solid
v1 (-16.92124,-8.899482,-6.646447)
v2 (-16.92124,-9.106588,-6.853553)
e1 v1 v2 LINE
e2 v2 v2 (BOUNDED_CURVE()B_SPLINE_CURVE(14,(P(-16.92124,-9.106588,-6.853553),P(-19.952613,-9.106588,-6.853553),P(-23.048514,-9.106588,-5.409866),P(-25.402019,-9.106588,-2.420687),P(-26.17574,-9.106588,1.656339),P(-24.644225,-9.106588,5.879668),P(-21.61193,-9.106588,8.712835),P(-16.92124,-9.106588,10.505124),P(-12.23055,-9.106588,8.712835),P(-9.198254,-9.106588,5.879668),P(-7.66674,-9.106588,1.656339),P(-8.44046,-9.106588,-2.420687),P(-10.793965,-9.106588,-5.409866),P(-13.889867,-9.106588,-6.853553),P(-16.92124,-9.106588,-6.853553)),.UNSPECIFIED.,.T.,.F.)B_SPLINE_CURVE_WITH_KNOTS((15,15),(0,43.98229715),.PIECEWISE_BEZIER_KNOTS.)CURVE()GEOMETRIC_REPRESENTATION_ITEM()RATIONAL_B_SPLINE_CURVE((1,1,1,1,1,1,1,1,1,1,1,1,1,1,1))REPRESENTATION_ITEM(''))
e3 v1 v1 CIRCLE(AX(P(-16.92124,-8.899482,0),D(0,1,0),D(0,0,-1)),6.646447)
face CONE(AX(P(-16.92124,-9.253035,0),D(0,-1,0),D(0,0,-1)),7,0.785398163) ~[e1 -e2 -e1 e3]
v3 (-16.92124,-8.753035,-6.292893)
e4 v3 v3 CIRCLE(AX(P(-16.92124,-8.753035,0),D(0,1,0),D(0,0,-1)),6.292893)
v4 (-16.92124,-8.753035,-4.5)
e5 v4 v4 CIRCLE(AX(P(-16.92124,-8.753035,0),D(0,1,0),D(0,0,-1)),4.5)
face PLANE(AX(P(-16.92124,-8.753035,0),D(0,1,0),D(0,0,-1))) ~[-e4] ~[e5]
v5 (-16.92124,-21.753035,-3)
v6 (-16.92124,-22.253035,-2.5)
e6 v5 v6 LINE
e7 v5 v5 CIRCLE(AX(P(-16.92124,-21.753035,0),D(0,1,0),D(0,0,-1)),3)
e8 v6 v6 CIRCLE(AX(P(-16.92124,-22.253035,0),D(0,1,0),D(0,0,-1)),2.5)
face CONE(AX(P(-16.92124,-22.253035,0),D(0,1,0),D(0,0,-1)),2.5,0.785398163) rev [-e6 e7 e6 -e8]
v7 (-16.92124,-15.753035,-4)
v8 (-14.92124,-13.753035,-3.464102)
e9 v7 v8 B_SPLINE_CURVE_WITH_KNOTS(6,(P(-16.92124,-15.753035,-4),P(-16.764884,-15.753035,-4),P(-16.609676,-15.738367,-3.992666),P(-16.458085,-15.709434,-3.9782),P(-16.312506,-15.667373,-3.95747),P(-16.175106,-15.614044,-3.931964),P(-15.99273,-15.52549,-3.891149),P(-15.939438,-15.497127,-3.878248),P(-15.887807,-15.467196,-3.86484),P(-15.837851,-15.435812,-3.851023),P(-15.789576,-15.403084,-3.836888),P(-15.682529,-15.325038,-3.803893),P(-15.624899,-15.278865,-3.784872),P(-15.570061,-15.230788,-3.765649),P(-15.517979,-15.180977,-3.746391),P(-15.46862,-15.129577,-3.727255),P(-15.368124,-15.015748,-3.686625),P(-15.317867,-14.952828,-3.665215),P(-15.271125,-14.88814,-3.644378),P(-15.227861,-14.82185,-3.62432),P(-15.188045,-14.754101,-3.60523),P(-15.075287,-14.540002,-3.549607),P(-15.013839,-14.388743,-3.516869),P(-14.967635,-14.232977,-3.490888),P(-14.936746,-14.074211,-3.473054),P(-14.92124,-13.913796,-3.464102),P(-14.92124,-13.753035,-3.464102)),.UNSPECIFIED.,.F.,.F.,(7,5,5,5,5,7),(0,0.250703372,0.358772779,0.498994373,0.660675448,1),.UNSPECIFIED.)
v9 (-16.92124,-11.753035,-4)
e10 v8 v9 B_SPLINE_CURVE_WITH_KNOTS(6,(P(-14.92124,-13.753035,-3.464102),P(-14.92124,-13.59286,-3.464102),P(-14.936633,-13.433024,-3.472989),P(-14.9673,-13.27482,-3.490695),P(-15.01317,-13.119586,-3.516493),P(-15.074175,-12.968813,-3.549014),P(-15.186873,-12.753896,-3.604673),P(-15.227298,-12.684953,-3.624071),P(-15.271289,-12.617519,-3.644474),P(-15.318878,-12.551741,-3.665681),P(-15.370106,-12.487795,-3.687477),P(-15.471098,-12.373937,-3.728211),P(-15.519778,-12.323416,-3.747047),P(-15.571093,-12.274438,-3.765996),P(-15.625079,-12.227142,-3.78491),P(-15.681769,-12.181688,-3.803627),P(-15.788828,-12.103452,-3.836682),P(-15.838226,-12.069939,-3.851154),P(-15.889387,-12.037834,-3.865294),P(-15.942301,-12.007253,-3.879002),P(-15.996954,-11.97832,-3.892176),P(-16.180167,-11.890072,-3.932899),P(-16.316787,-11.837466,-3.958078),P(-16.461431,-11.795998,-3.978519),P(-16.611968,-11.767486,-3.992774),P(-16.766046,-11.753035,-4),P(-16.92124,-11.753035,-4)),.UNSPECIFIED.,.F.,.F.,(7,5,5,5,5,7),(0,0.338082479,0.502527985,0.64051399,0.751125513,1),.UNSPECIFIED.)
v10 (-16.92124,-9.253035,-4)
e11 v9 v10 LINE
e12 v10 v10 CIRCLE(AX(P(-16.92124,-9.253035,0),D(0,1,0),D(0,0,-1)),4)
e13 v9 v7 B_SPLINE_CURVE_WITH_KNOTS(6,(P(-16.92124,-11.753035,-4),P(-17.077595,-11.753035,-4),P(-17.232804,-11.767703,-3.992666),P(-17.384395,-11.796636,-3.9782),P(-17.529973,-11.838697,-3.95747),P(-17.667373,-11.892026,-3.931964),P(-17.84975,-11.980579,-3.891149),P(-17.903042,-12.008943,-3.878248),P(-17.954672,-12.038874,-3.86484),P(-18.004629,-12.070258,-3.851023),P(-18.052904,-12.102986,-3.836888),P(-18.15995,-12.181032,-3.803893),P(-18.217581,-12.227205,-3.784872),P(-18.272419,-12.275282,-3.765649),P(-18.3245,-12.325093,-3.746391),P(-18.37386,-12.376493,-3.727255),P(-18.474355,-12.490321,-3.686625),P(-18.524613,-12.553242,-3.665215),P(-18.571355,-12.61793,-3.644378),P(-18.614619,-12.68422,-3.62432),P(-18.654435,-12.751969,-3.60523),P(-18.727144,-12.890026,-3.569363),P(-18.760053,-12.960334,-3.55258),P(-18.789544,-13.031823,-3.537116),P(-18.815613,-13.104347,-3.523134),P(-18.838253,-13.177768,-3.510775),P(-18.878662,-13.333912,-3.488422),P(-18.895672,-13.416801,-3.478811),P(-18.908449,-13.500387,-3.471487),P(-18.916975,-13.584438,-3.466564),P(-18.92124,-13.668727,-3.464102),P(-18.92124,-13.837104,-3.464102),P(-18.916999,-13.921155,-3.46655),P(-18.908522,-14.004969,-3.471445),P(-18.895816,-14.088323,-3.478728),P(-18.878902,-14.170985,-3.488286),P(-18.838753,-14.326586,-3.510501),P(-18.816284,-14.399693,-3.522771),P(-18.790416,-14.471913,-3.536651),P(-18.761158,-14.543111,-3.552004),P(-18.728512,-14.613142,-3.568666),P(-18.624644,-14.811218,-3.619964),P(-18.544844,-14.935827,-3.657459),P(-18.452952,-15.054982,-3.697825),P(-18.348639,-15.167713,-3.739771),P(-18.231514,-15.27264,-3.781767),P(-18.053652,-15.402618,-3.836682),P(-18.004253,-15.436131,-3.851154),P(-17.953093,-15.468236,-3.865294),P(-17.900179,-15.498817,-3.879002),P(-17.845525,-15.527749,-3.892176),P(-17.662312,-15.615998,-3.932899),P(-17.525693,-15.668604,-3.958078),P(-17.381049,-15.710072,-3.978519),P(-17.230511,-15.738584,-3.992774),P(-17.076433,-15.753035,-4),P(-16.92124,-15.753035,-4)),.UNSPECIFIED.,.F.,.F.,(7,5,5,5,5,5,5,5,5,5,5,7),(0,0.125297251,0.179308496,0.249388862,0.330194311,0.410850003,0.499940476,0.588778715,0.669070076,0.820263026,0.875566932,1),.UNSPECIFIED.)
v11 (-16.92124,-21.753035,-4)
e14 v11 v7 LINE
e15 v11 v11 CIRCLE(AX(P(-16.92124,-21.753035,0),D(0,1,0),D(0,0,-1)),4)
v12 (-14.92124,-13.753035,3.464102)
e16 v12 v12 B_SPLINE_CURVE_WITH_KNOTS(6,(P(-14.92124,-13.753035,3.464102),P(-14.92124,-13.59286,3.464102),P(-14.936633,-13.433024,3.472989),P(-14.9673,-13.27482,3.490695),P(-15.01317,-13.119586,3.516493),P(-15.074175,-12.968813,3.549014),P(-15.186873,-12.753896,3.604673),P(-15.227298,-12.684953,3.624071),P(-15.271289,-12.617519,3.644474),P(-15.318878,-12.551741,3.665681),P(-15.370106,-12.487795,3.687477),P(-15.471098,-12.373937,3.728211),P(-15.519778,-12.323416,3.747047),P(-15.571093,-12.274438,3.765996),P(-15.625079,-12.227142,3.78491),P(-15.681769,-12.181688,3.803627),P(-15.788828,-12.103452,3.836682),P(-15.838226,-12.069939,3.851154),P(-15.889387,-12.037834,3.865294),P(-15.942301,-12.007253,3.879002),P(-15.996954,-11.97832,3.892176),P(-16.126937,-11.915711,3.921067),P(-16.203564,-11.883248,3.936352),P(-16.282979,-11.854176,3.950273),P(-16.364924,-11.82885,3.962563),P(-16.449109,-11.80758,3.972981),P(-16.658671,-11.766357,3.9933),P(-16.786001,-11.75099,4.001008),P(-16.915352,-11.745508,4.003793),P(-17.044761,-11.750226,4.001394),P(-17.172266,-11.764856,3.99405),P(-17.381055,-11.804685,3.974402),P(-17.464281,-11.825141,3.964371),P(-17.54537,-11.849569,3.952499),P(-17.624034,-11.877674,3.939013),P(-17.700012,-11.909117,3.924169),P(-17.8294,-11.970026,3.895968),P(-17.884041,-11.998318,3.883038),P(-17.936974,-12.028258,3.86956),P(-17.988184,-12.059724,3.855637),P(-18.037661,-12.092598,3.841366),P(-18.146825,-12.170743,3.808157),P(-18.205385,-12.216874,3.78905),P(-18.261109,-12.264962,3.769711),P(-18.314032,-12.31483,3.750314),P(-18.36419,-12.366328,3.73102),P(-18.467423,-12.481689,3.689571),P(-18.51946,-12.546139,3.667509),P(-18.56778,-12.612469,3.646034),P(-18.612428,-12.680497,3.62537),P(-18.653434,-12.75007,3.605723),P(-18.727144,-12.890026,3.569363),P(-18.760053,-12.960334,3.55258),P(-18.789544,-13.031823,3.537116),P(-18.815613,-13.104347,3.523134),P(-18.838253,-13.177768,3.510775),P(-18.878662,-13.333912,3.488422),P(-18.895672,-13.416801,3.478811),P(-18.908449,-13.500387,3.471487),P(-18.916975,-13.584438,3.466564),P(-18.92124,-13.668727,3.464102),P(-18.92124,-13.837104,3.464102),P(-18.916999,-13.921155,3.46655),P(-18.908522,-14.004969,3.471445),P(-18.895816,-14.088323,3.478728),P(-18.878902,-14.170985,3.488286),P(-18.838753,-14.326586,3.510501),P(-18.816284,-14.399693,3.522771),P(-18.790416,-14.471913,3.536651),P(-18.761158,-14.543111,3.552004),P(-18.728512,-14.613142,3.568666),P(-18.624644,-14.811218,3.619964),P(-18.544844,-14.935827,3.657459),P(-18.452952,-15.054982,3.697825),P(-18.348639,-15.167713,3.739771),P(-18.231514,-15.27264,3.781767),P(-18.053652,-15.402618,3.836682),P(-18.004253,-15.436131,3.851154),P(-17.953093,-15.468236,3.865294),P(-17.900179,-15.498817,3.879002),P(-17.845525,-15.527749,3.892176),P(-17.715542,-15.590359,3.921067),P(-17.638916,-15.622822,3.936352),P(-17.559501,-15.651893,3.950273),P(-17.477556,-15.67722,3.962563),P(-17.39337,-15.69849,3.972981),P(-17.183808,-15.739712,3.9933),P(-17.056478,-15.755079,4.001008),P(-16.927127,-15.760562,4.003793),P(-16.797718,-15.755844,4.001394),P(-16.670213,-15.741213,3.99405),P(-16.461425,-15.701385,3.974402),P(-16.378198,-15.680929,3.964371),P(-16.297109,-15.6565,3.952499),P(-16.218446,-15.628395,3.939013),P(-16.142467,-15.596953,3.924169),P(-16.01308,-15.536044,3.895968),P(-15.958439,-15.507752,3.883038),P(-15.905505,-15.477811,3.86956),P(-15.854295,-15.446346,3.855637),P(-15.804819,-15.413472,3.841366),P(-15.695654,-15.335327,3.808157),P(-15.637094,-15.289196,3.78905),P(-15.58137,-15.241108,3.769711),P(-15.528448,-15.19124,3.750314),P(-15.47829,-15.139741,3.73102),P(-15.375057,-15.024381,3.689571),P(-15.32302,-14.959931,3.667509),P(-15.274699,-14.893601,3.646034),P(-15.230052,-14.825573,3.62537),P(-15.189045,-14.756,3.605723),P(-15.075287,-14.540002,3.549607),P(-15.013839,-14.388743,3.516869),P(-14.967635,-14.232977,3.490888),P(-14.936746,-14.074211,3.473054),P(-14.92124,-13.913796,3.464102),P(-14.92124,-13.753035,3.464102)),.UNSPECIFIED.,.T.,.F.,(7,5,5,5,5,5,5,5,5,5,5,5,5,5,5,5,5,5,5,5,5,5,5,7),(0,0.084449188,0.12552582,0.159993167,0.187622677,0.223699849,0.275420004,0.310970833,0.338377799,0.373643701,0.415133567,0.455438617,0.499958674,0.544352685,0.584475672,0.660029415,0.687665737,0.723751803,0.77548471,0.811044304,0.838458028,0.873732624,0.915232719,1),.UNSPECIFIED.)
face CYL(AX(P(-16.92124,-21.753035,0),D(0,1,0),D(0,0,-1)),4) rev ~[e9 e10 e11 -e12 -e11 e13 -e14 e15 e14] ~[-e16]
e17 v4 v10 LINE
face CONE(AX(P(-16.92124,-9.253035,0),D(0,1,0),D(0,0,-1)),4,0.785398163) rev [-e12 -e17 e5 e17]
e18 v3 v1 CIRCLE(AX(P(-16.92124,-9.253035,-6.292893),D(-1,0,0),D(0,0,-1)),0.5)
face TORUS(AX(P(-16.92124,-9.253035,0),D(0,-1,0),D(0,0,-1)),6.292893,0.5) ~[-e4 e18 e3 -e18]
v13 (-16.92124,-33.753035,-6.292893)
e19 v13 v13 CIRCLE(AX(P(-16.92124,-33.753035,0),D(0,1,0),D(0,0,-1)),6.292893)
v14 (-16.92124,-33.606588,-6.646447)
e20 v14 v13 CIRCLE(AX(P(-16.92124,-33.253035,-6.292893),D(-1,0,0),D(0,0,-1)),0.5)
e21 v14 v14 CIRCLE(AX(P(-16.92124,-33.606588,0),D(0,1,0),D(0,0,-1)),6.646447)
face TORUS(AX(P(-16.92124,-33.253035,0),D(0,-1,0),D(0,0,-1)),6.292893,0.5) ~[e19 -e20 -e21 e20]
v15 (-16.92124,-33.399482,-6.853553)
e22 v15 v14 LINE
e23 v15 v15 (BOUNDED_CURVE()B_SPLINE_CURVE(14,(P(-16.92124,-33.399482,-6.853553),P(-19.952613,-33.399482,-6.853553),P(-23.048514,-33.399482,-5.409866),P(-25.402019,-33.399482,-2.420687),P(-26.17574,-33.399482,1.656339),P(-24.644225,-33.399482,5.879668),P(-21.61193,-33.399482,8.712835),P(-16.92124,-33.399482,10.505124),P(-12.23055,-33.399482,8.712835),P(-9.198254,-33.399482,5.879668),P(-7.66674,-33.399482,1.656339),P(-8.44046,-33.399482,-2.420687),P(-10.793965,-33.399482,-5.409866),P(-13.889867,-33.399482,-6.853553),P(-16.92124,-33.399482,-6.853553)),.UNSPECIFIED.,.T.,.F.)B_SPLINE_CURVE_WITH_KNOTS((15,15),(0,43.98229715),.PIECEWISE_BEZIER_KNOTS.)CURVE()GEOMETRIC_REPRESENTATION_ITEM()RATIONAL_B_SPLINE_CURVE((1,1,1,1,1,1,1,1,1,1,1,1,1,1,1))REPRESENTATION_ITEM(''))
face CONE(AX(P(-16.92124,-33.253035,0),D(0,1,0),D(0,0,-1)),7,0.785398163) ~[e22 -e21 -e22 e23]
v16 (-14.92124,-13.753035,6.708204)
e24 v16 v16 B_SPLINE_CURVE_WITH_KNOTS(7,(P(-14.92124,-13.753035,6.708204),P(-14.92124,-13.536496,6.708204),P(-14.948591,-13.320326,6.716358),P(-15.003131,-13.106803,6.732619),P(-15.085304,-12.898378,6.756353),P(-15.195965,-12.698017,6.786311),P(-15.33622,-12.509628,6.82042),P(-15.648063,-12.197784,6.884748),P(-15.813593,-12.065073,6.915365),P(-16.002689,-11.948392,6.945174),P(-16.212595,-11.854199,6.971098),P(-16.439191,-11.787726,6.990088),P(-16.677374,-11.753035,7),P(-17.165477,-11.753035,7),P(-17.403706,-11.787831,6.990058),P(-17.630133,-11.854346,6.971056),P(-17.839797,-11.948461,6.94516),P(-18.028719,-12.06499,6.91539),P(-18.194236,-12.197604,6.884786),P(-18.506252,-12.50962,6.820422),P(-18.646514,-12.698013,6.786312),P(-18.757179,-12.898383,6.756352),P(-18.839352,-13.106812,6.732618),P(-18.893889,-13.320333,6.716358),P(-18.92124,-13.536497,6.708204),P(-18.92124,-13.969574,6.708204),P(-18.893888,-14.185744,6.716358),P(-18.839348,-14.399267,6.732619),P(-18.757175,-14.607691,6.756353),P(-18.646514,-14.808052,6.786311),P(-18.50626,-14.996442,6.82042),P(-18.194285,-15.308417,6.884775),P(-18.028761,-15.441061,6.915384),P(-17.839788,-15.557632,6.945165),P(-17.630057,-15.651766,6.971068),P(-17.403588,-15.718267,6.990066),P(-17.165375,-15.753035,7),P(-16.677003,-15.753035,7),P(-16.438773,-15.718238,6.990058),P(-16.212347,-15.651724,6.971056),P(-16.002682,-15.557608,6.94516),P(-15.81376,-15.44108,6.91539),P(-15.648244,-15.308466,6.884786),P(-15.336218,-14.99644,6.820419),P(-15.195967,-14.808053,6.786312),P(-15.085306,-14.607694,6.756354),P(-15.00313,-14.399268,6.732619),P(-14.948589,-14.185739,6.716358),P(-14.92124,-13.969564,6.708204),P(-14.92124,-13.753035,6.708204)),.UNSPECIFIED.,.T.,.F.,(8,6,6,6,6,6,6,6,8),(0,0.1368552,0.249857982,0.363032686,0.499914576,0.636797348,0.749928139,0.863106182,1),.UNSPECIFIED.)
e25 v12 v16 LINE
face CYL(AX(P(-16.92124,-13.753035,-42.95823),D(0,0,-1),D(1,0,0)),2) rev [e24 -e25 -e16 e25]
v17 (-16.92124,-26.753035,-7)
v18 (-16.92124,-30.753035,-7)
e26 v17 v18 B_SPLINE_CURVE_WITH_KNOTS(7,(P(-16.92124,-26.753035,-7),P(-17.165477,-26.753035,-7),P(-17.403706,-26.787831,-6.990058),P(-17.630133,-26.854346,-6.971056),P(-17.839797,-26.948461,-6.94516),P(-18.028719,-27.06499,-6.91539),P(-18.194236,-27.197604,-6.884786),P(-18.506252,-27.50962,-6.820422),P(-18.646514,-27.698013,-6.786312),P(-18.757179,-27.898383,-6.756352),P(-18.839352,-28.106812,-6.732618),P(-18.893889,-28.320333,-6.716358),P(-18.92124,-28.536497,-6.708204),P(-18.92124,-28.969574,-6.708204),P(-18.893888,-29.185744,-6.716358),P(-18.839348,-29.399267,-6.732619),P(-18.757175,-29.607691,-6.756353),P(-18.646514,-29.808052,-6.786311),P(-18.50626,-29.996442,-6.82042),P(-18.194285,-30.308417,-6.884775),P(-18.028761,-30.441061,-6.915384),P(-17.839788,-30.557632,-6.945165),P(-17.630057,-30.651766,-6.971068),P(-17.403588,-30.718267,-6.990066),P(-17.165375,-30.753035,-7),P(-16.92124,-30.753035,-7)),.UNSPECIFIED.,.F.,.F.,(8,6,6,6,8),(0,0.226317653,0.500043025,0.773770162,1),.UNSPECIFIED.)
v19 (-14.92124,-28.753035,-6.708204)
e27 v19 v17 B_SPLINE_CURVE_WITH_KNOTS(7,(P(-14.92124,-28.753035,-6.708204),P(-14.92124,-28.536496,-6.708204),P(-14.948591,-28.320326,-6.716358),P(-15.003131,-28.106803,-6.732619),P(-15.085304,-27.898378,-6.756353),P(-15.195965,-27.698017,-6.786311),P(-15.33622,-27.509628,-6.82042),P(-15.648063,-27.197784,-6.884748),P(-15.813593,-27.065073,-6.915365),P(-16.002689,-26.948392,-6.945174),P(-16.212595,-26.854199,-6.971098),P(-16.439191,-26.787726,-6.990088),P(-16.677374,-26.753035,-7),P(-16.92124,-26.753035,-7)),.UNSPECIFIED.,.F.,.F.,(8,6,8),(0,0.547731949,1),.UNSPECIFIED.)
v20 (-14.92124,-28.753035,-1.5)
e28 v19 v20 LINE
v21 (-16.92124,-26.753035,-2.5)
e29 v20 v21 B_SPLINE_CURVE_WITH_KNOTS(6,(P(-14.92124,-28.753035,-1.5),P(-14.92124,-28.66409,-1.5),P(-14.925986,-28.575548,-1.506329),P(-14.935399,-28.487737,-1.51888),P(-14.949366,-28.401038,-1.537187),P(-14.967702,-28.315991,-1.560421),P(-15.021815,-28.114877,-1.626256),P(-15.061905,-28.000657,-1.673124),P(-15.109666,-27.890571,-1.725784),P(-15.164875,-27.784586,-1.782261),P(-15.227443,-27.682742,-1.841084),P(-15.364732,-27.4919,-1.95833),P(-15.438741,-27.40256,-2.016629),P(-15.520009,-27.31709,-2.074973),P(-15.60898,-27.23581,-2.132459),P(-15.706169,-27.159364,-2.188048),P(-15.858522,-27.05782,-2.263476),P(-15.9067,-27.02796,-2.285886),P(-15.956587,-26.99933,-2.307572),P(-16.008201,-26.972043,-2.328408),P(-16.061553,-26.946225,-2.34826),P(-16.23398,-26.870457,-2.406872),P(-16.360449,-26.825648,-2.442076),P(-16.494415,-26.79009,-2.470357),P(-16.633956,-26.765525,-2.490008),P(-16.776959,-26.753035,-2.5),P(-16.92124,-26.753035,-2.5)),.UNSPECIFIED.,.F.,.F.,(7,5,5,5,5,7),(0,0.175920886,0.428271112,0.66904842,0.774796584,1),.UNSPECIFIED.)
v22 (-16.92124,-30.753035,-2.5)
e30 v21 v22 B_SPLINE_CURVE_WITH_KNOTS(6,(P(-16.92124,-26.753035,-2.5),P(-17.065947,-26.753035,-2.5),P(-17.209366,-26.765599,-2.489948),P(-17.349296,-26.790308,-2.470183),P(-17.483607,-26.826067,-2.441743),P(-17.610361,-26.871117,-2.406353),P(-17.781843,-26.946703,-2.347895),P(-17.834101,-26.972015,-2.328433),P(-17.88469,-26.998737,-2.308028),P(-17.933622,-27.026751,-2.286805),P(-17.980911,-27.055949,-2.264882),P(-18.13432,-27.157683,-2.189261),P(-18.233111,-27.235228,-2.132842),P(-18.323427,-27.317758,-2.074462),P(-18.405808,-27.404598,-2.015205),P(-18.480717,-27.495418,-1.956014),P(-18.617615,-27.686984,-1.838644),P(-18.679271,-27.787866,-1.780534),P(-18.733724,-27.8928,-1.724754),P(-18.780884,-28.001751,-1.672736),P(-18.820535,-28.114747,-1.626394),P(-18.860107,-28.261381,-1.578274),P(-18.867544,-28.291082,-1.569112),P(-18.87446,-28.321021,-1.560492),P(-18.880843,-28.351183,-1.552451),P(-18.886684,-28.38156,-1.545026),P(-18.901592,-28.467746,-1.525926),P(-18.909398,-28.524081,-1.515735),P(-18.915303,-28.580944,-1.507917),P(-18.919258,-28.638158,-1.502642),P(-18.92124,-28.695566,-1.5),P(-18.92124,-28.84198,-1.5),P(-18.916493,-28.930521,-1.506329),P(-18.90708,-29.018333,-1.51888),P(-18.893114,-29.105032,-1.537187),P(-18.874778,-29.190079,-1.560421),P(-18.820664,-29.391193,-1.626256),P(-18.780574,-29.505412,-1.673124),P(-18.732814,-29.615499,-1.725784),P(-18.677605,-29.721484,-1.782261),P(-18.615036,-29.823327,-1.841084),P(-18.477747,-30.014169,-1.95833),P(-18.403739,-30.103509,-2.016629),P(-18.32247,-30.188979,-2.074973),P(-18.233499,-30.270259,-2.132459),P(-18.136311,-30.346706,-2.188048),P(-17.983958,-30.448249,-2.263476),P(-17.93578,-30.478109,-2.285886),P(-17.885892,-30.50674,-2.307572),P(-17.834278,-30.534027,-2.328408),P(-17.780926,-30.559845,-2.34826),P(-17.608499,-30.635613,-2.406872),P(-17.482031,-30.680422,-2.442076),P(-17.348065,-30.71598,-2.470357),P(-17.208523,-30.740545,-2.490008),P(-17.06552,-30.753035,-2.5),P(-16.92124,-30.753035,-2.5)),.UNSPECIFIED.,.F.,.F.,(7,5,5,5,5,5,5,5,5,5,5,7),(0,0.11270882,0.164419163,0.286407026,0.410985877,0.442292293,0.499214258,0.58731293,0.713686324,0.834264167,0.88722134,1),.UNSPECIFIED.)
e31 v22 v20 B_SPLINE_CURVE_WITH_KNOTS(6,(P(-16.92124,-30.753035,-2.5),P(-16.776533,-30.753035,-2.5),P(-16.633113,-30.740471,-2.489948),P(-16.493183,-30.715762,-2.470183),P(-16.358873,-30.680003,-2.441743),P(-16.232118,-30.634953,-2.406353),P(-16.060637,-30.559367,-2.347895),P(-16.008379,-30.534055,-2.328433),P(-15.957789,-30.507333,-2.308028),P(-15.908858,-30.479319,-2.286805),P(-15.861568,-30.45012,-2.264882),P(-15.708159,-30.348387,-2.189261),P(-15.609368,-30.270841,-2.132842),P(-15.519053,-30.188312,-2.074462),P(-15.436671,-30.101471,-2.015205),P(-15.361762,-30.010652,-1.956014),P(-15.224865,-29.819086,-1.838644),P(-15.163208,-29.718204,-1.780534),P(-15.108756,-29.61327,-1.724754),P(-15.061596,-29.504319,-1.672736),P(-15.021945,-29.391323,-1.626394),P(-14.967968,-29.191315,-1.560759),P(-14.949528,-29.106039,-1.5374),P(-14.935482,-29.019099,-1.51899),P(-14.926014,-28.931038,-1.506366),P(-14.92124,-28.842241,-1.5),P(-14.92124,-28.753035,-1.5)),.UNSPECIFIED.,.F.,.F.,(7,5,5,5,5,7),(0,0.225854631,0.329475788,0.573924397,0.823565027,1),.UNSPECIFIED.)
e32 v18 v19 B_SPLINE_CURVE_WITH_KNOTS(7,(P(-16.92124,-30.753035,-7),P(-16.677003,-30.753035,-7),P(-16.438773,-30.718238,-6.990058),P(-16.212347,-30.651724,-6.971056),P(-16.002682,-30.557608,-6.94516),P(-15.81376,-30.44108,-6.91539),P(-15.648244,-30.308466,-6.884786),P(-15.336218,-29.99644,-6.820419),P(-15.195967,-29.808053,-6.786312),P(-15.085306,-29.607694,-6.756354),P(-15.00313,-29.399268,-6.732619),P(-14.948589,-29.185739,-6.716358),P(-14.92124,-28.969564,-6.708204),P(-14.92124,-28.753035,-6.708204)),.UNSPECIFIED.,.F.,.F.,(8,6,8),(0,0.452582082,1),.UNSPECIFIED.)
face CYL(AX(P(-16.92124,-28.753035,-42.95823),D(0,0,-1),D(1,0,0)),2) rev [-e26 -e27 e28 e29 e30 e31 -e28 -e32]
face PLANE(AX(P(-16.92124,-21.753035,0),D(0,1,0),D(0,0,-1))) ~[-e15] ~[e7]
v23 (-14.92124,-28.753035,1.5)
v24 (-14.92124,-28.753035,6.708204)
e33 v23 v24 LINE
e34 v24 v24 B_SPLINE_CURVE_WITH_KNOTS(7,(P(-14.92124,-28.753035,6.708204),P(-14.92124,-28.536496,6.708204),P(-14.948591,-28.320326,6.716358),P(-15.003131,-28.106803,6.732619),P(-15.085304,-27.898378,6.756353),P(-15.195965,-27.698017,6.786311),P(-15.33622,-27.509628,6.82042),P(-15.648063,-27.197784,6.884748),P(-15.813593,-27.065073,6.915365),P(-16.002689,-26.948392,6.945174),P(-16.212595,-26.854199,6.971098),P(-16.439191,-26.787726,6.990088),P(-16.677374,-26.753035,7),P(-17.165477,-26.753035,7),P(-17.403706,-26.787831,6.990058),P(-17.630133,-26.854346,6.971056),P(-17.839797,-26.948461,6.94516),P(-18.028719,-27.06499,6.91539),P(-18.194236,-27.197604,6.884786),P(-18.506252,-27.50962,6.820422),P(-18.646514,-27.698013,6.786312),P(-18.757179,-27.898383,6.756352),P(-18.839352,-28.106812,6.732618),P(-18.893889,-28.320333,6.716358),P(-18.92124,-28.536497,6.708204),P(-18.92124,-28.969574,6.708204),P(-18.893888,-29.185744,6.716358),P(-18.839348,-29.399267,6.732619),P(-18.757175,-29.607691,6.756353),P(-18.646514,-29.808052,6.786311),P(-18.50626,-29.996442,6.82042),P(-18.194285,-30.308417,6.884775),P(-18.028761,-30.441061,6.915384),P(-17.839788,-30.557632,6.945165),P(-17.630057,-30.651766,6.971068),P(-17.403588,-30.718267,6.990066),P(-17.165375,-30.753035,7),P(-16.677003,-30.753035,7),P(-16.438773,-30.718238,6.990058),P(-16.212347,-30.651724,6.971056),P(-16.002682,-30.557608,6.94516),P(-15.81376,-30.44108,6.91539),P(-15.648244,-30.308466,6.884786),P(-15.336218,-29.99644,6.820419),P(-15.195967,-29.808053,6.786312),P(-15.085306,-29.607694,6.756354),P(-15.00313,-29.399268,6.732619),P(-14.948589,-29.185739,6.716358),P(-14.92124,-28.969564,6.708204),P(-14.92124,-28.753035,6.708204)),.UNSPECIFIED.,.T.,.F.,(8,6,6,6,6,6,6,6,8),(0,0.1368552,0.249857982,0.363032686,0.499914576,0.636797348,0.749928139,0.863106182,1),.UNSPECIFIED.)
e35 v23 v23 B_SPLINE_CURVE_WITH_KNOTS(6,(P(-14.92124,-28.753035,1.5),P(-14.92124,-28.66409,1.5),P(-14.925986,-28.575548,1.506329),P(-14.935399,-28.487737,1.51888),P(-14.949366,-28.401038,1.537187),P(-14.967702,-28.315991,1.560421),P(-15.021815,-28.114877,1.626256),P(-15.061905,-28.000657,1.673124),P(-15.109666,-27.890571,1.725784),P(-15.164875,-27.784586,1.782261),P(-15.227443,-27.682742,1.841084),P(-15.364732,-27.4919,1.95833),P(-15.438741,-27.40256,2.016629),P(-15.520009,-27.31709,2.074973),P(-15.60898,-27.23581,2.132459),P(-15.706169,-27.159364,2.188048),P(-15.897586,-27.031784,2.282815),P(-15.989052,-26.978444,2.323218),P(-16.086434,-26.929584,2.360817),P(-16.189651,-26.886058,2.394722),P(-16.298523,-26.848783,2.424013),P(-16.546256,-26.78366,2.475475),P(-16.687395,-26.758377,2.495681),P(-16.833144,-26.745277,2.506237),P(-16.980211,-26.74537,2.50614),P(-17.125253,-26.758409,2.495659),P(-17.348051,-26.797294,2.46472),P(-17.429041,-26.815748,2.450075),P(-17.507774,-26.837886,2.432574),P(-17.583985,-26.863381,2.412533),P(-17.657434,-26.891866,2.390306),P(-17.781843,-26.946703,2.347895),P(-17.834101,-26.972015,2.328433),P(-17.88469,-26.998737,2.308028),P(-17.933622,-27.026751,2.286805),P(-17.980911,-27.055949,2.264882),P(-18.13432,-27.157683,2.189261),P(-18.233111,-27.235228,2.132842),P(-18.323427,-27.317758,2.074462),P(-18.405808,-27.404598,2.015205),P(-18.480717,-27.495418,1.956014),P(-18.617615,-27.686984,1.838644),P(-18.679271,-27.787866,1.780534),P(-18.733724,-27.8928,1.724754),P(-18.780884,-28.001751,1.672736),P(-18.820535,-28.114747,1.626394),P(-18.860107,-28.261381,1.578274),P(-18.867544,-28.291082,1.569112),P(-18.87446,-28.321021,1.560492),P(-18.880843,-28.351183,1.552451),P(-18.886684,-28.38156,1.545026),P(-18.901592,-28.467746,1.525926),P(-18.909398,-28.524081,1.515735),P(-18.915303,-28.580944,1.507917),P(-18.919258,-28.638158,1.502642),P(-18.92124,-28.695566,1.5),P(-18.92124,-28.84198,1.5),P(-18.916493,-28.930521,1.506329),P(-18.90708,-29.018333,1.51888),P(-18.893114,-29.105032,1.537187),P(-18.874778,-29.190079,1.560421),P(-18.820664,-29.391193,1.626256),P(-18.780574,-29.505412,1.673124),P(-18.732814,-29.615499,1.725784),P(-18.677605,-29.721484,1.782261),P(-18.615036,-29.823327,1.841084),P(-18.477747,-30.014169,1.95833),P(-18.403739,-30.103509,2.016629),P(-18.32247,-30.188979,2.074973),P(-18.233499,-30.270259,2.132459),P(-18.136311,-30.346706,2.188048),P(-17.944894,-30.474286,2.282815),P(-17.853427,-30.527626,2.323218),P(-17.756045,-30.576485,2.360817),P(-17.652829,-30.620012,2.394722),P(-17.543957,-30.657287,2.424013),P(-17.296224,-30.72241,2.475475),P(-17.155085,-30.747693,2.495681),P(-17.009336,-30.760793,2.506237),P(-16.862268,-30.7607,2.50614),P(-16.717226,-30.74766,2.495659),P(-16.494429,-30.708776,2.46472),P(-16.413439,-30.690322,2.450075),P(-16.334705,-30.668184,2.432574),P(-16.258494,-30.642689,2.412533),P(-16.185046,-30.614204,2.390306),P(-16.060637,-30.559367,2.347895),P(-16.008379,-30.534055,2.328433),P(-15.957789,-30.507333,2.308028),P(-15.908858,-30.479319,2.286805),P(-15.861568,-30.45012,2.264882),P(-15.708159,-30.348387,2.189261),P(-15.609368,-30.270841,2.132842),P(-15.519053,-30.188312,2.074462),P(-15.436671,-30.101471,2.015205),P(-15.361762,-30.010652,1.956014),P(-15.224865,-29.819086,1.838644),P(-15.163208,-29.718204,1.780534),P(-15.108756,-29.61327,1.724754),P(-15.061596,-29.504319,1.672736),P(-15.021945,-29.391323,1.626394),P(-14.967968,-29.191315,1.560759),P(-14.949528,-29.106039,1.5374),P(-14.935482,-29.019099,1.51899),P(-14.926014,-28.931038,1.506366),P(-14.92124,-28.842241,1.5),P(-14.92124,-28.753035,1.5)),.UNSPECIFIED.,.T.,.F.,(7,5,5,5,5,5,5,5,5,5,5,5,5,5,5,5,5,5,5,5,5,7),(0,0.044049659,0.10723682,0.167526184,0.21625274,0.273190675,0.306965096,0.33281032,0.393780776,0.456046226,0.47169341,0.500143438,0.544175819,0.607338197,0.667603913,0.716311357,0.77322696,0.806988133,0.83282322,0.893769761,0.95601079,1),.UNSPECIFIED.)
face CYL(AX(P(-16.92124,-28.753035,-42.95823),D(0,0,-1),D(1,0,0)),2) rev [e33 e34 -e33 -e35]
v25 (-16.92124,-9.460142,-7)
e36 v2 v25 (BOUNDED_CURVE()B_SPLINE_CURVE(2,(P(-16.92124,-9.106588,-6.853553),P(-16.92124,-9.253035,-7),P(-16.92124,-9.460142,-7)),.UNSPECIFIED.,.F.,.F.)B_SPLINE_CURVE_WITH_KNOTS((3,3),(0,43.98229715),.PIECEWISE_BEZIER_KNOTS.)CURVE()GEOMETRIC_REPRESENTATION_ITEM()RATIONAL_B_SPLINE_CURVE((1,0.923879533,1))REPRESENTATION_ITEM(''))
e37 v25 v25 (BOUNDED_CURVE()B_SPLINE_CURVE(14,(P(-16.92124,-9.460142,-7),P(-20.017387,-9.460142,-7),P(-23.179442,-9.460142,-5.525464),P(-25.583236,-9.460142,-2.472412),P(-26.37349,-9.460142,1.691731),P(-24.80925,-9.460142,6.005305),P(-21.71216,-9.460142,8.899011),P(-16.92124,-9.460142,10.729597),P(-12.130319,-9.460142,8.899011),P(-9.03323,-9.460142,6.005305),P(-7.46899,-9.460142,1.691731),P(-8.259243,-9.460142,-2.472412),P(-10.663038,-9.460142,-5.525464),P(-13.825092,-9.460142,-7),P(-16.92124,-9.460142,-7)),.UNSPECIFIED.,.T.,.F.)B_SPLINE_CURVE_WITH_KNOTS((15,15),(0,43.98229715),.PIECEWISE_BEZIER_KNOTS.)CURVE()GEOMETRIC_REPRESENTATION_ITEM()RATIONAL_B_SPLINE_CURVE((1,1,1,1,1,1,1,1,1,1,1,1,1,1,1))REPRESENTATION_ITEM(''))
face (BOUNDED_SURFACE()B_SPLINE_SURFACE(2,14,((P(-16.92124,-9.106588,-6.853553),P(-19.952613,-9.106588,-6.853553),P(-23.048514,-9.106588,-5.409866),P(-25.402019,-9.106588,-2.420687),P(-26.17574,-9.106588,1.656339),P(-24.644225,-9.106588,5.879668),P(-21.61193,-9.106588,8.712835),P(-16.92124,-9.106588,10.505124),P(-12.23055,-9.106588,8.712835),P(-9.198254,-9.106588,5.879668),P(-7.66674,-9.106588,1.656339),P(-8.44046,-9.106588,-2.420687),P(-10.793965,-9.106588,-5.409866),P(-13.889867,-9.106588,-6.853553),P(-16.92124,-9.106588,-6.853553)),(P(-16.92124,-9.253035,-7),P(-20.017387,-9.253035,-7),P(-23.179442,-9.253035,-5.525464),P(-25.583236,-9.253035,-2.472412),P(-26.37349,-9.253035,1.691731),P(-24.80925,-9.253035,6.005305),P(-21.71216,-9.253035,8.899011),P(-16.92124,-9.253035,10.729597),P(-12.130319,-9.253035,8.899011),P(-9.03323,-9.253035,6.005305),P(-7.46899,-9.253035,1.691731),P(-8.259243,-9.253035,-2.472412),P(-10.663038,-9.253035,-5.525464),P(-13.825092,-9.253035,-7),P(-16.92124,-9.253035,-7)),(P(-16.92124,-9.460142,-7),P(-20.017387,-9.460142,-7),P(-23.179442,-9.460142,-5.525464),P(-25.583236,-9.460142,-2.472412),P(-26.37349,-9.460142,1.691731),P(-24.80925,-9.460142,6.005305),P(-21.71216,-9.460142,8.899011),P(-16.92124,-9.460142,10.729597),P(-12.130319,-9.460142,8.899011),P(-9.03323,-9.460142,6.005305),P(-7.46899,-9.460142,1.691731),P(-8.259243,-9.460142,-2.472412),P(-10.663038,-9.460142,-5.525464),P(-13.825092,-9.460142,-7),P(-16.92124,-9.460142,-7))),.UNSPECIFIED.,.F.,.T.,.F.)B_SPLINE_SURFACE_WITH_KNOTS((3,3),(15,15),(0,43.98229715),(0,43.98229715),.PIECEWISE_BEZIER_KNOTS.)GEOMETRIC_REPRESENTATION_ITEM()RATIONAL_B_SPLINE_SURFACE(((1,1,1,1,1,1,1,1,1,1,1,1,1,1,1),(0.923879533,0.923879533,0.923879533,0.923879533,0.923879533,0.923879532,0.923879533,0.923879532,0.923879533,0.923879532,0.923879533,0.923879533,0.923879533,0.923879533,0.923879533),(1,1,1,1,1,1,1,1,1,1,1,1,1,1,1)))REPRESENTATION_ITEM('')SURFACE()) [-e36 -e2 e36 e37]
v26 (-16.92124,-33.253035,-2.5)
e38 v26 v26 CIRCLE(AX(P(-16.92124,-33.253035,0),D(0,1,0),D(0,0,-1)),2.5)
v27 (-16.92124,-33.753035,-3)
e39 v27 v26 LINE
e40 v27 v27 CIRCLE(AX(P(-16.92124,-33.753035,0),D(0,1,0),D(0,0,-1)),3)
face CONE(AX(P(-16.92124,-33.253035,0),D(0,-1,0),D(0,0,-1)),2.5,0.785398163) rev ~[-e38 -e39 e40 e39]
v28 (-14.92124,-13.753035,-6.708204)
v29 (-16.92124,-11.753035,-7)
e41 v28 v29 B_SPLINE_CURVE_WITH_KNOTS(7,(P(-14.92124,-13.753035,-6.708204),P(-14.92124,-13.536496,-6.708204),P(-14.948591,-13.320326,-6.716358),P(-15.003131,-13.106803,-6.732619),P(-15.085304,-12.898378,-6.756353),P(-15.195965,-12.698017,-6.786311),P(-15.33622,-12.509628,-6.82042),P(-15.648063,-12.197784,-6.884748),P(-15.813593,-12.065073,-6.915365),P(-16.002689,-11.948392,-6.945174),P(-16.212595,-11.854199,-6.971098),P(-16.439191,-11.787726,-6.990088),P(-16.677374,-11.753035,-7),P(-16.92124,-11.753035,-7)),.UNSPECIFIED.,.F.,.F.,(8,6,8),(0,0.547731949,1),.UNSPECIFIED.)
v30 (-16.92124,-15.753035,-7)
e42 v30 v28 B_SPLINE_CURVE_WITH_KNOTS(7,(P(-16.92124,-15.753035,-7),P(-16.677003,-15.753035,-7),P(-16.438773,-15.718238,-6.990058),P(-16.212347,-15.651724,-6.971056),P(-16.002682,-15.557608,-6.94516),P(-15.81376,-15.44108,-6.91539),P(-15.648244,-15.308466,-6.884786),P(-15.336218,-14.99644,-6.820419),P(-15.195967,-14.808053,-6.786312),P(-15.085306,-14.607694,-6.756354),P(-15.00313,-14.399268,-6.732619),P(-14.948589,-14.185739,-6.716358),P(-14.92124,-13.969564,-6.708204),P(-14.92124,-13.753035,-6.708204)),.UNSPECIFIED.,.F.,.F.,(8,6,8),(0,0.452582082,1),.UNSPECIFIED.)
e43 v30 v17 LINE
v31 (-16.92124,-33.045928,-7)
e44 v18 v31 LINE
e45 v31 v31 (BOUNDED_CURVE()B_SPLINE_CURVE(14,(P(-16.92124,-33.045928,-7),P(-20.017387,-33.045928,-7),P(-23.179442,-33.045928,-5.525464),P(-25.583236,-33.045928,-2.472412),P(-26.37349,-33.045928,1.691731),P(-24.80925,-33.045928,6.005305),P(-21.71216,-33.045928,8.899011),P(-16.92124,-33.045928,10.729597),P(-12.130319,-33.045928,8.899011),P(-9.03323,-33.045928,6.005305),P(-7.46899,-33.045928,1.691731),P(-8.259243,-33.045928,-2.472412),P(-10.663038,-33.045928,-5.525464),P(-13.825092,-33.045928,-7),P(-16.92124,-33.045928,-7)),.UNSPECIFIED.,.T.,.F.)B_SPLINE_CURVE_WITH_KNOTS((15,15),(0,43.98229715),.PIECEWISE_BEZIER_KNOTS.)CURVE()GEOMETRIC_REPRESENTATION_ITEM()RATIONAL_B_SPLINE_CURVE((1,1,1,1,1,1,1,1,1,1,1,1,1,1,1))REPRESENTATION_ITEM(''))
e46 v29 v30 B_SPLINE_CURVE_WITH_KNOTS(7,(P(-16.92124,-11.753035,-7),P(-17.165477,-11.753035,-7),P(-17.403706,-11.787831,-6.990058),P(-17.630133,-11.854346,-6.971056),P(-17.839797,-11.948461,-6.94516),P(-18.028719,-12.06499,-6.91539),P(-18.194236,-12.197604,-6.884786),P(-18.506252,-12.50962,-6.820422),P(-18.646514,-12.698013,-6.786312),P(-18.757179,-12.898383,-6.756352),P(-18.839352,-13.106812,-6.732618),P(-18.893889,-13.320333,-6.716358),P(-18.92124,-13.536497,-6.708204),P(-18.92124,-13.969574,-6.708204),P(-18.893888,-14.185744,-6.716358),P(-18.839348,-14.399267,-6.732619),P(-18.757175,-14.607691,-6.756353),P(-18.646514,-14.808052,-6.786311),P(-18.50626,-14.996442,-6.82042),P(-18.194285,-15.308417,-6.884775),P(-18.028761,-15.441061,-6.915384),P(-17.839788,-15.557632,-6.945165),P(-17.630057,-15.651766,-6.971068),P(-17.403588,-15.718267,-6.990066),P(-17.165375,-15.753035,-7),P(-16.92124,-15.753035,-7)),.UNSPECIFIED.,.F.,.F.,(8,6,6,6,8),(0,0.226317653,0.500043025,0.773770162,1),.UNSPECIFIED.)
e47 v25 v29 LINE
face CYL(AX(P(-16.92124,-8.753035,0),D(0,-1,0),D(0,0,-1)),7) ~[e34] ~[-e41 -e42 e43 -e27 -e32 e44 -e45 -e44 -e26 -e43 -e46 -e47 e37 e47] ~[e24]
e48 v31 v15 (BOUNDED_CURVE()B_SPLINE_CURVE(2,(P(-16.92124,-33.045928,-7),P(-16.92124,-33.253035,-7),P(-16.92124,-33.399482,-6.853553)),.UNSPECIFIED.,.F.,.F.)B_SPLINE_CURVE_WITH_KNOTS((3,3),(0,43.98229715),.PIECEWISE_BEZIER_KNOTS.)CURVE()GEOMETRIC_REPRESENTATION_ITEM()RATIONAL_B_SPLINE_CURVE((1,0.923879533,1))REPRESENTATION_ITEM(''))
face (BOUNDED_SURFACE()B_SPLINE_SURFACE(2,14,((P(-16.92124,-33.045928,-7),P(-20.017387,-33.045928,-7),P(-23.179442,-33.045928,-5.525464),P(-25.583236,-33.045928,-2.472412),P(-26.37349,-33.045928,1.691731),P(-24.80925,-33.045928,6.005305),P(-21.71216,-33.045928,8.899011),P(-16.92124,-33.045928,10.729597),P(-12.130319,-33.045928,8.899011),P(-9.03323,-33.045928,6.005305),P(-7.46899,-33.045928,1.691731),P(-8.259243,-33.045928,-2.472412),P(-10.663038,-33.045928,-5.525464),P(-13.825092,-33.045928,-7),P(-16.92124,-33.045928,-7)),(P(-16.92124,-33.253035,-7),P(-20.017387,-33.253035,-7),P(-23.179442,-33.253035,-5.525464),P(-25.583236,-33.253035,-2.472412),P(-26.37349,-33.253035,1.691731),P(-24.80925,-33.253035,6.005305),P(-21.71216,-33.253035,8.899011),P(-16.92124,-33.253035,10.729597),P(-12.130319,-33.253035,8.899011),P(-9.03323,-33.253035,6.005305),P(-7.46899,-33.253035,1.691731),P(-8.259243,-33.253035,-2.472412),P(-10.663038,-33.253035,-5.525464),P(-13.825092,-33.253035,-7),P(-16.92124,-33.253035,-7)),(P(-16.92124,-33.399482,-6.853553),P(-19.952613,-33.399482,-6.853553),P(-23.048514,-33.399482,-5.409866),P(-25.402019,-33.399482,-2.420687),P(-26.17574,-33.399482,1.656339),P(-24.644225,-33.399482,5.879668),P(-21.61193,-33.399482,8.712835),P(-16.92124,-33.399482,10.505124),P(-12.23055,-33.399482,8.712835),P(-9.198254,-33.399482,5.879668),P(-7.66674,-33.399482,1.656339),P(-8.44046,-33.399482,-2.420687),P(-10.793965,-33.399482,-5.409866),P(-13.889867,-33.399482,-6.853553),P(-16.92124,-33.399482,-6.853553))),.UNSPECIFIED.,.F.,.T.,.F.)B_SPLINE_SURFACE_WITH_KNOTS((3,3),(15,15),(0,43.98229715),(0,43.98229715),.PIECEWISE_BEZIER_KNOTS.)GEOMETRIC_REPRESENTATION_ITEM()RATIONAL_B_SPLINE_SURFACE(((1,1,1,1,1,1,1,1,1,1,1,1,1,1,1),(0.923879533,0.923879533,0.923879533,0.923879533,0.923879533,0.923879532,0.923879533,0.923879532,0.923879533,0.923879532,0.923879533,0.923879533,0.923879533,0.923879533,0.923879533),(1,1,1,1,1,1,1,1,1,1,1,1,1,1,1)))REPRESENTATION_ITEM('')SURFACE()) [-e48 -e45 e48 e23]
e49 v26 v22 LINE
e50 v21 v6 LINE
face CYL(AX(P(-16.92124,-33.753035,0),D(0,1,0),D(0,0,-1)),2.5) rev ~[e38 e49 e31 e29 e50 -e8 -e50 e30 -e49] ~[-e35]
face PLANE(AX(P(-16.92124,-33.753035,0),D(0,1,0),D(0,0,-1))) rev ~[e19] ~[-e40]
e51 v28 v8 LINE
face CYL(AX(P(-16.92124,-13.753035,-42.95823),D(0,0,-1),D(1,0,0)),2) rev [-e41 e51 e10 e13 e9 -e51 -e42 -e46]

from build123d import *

# Parameters (mm, degrees)
WYTNIJ_WYCI_GNI_CIE1_DEPTH      = 42.958230131
WYTNIJ_WYCI_GNI_CIE1_DEPTH_BACK = 42.958230131
SZKIC2_R                        = 2
SFAZOWANIE1_SIZE                = 0.5
ZAOKR_GLENIE1_R                 = 0.5
SFAZOWANIE2_SIZE                = 0.5


with BuildPart() as part:
    # Szkic1 → Obrót1 (revolve)
    with BuildSketch(Plane.XY, mode=Mode.PRIVATE) as obr_t1_sk:
        Polygon((-20.921239747, -8.753034896), (-23.921239747, -8.753034896), (-23.921239747, -33.753034896), (-19.421239747, -33.753034896), (-19.421239747, -21.753034896), (-20.921239747, -21.753034896), align=None)
    revolve(obr_t1_sk.sketch.rotate(Axis((-16.921239747, -33.753034896, 0), (0, 1, 0)), 270), axis=Axis((-16.921239747, -33.753034896, 0), (0, 1, 0)))

    # Szkic2 → Wytnij-wyciągnięcie1 (cut, two sides: drawn at the far end of the back side and taken through both)
    with BuildSketch(Plane.XY.offset(-WYTNIJ_WYCI_GNI_CIE1_DEPTH_BACK)):
        with Locations((-16.921239747, -13.753034896)):
            Circle(SZKIC2_R)
        with Locations((-16.921239747, -28.753034896)):
            Circle(SZKIC2_R)
    extrude(amount=WYTNIJ_WYCI_GNI_CIE1_DEPTH + WYTNIJ_WYCI_GNI_CIE1_DEPTH_BACK, mode=Mode.SUBTRACT)

    # Sfazowanie1
    sfazowanie1_edges = [part.edges().sort_by_distance(p)[0] for p in [
        (-16.921239747, -33.753034896, 2.5),
        (-16.921239747, -33.753034896, 7),
        (-16.921239747, -8.753034896, 7),
        (-16.921239747, -8.753034896, 4),
    ]]
    chamfer(sfazowanie1_edges, length=SFAZOWANIE1_SIZE)

    # Zaokrąglenie1
    zaokr_glenie1_edges = [part.edges().sort_by_distance(p)[0] for p in [
        (-16.921239747, -33.753034896, 6.5),
        (-16.921239747, -9.253034896, 7),
        (-16.921239747, -33.253034896, 7),
        (-16.921239747, -8.753034896, 6.5),
    ]]
    fillet(zaokr_glenie1_edges, radius=ZAOKR_GLENIE1_R)

    # Sfazowanie2
    sfazowanie2_edges = [part.edges().sort_by_distance(p)[0] for p in [
        (-16.921239747, -21.753034896, 2.5),
    ]]
    chamfer(sfazowanie2_edges, length=SFAZOWANIE2_SIZE)


solid = part.part
